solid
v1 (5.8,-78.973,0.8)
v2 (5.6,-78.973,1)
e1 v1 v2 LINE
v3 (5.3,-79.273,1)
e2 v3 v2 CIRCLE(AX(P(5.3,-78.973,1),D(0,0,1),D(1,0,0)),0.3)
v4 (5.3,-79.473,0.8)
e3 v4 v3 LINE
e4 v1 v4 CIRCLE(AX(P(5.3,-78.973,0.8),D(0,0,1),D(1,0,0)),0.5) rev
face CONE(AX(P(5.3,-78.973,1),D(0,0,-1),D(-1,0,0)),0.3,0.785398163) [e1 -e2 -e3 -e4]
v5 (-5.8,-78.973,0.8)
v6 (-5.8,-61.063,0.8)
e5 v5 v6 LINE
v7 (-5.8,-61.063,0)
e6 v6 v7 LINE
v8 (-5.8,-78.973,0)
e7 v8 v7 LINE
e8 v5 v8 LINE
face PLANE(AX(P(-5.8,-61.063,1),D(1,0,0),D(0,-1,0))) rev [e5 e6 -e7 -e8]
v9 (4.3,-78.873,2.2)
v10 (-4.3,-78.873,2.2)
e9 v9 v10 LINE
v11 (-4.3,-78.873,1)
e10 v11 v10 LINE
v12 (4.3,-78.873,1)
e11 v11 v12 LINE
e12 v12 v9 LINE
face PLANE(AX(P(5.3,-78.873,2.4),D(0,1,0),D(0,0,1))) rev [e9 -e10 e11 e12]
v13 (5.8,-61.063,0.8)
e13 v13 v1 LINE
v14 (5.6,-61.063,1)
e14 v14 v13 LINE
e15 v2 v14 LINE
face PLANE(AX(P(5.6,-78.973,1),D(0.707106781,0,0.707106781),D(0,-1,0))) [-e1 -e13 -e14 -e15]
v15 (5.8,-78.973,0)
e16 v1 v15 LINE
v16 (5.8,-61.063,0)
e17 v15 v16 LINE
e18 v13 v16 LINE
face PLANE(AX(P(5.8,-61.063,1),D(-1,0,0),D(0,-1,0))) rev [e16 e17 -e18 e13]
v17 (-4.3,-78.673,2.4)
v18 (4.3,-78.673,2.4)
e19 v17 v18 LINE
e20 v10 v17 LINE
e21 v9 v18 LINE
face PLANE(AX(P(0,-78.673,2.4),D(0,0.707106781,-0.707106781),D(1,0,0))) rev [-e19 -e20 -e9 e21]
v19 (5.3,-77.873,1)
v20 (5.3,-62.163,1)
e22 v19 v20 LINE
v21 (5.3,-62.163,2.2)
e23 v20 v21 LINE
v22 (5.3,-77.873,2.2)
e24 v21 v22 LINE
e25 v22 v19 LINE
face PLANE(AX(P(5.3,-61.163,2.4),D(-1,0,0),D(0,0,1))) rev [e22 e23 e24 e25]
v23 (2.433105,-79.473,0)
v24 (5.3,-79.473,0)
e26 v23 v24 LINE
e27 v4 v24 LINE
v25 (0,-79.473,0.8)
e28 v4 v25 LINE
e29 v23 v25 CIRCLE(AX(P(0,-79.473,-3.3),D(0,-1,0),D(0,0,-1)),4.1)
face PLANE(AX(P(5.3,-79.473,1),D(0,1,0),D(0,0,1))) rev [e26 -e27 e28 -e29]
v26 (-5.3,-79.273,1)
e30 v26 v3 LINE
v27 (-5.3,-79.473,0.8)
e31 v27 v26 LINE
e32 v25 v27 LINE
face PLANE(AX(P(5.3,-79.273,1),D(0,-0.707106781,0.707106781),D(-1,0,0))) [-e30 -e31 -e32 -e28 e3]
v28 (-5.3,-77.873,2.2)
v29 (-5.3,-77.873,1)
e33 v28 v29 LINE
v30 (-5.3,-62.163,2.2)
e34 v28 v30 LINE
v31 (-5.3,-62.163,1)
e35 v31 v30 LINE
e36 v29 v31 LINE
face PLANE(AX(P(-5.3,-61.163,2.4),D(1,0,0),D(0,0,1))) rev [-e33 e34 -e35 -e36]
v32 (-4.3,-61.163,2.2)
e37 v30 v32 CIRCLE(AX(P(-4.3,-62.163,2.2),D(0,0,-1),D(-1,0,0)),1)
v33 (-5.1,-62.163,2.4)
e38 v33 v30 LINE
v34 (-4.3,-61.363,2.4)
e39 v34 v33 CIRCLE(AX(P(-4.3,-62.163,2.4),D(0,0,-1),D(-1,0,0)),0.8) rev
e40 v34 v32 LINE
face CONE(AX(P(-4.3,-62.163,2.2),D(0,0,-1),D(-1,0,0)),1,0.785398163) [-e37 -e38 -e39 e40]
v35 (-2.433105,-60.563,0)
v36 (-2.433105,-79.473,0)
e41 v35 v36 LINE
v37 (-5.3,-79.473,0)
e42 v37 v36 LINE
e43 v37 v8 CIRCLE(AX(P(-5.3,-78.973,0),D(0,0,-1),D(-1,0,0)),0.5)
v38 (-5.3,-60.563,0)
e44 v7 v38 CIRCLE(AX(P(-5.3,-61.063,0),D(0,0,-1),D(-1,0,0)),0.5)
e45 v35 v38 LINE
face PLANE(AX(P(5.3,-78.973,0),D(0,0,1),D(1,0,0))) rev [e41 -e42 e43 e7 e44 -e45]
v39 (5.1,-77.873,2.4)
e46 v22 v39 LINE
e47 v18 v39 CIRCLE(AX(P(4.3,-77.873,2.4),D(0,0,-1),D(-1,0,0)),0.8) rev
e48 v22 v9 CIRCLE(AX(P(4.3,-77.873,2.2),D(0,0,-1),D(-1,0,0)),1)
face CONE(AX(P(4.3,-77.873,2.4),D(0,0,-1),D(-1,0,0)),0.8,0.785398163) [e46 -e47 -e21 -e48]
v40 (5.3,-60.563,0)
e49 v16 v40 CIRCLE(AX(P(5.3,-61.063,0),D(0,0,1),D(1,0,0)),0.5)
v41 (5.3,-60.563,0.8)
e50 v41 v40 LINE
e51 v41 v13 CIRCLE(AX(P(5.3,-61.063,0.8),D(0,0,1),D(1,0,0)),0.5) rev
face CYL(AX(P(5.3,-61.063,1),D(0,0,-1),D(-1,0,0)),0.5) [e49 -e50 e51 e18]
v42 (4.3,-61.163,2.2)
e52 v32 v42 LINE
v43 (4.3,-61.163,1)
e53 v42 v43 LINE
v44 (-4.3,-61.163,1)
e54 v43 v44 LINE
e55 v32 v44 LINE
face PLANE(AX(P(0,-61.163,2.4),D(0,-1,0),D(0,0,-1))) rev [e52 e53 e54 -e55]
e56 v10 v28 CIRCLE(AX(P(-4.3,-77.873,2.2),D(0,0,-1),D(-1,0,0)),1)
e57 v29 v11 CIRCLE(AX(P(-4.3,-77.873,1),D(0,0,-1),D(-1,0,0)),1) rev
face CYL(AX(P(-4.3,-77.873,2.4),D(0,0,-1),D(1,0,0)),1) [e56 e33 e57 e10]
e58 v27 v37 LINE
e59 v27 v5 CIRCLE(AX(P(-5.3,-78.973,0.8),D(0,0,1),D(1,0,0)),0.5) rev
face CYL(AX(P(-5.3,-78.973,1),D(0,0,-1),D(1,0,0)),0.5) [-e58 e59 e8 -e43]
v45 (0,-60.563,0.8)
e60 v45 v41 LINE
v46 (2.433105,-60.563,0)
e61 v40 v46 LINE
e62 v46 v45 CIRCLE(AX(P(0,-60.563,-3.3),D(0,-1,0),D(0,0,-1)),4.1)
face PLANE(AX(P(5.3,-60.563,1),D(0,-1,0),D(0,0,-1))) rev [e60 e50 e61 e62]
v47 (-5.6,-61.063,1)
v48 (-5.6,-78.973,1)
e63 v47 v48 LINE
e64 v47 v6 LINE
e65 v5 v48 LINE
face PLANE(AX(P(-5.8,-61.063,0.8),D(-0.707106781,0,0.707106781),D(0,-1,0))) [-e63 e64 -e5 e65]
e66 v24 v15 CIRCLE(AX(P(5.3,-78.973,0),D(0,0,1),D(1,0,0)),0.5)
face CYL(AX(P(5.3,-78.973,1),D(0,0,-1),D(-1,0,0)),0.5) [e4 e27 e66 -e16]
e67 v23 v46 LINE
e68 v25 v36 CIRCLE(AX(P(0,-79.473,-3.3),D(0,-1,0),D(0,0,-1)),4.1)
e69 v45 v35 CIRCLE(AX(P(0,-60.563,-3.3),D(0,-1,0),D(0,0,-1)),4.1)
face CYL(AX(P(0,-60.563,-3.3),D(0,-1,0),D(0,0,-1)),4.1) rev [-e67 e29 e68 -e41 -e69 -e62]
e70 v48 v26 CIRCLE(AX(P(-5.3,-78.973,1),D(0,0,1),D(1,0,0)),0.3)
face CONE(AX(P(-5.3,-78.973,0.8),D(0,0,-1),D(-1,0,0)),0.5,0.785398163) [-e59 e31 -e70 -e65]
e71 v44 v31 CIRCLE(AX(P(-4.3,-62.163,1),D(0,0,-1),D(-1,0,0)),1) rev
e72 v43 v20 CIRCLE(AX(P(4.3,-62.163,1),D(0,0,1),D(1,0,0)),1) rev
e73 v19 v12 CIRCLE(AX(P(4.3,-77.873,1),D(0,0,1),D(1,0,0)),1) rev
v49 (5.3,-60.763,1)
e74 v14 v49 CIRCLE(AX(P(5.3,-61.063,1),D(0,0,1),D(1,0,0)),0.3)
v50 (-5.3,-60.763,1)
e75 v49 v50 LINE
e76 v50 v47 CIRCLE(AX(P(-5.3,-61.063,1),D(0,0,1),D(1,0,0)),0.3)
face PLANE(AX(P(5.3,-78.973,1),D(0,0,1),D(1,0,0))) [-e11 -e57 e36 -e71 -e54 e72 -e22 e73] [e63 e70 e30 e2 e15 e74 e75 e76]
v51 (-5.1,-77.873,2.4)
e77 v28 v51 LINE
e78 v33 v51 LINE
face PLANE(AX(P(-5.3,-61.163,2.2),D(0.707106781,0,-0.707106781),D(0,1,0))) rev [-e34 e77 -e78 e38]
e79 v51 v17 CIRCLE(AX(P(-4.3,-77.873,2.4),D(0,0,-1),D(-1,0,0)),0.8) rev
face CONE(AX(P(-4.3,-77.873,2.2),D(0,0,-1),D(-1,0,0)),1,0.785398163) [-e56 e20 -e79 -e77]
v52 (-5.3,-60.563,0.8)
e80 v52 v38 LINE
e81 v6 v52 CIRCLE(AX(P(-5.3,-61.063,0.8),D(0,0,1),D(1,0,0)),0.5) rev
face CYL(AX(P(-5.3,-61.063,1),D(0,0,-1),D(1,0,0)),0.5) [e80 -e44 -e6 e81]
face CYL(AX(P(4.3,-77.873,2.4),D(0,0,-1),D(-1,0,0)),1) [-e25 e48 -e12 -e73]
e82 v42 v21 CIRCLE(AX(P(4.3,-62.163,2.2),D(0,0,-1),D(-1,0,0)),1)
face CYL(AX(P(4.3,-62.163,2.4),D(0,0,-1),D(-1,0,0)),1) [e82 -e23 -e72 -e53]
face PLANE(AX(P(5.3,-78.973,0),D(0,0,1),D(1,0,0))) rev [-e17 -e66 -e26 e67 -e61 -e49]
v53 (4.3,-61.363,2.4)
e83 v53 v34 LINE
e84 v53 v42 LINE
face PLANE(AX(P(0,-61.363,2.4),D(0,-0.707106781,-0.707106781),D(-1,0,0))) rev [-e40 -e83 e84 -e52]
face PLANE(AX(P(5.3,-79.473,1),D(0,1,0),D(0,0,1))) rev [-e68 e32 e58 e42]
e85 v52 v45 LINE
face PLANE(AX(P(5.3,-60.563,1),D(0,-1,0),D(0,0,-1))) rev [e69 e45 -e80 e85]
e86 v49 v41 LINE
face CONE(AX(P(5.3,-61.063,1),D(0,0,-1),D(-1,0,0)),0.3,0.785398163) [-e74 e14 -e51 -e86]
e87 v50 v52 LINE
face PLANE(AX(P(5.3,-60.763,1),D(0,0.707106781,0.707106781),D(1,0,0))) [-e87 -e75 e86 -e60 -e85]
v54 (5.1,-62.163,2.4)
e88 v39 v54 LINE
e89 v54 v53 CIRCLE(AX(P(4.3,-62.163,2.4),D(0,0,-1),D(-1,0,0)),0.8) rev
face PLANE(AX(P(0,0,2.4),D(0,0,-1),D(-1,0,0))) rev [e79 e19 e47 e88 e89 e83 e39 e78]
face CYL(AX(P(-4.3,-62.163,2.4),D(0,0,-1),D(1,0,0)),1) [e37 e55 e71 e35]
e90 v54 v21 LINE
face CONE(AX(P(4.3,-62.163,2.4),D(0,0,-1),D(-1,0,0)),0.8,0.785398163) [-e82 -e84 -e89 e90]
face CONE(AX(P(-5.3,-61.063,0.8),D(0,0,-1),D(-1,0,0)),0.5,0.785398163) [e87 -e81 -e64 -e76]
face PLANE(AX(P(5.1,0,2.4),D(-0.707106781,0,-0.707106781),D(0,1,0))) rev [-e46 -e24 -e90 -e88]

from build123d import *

# Parameters (mm, degrees)
EXTRUDE_1_DEPTH     = 1
SKETCH_3_W          = 5.3
SKETCH_3_H          = 17.71
EXTRUDE_2_DEPTH     = 1.4
FILLET_1_R          = 1
CHAMFER_1_SIZE      = 0.2
CUT_EXTRUDE_1_DEPTH = 0.5
SKETCH_5_R          = 4.1
CUT_EXTRUDE_2_DEPTH = 20.924560345


with BuildPart() as part:
    # 草图1 → 凸台-拉伸1 (new body)
    with BuildSketch(Plane(origin=(0, 0, 0), x_dir=(-1, 0, 0), z_dir=(0, 0, 1))):
        with BuildLine():
            Line((-5.8, 61.063), (-5.8, 78.973))
            ThreePointArc((-5.8, 78.973), (-5.653553391, 79.32655339), (-5.3, 79.473))
            Line((-5.3, 79.473), (0, 79.473))
            Line((0, 79.473), (0, 60.563))
            Line((0, 60.563), (-5.3, 60.563))
            ThreePointArc((-5.3, 60.563), (-5.653553391, 60.709446609), (-5.8, 61.063))
        make_face()
    extrude(amount=EXTRUDE_1_DEPTH)

    # 草图3 → 凸台-拉伸2 (add)
    with BuildSketch(Plane.XY.offset(1)):
        with Locations((2.65, -70.018)):
            Rectangle(SKETCH_3_W, SKETCH_3_H)
    extrude(amount=EXTRUDE_2_DEPTH)

    # 圆角1
    fillet_1_edges = [part.edges().sort_by_distance(p)[0] for p in [
        (5.3, -61.163, 1.7),
        (5.3, -78.873, 1.7),
    ]]
    fillet(fillet_1_edges, radius=FILLET_1_R)

    # 镜向1: part across plane


with BuildPart() as part_1:
    add(part.part)
    add(part.part.mirror(Plane(origin=(0, -79.473, 1), x_dir=(0, 0, 1), z_dir=(1, 0, 0))))

    # 倒角1
    chamfer_1_edges = [part_1.edges().sort_by_distance(p)[0] for p in [
        (5.653553391, -60.709446609, 1),
        (0, -60.563, 1),
        (0, -79.473, 1),
        (0, -78.873, 2.4),
        (0, -61.163, 2.4),
        (5.3, -70.018, 2.4),
        (5.007106781, -78.580106781, 2.4),
        (5.007106781, -61.455893219, 2.4),
        (5.653553391, -79.32655339, 1),
        (-5.653553391, -79.32655339, 1),
        (-5.8, -70.018, 1),
        (-5.653553391, -60.709446609, 1),
        (-5.3, -70.018, 2.4),
        (-5.007106781, -61.455893219, 2.4),
        (-5.007106781, -78.580106781, 2.4),
        (5.8, -70.018, 1),
    ]]
    chamfer(chamfer_1_edges, length=CHAMFER_1_SIZE)

    # 草图4 → 切除-拉伸1 (cut)
    # profile 1 of 9: a face of its own
    with BuildSketch(Plane(origin=(-6.3, -79.273, 0), x_dir=(1, 0, 0), z_dir=(0, 0, 1))):
        with BuildLine():
            add(Edge.make_bspline(
                [(6.774685953, 2.619341222), (6.800289884, 2.617747441), (6.850993025, 2.614591298), (6.925350933, 2.600827188), (6.996555647, 2.579095321), (7.064787892, 2.55036601), (7.129545424, 2.513432463), (7.190880782, 2.468744026), (7.248477435, 2.416001945), (7.302842533, 2.356884778), (7.35236013, 2.291759099), (7.396108136, 2.221845326), (7.432464761, 2.147203781), (7.463443618, 2.069005381), (7.487749635, 1.986705734), (7.505943631, 1.900454217), (7.517046754, 1.809855564), (7.519723963, 1.747989925), (7.521090297, 1.716416298)],
                knots=[0, 0, 0, 0, 0.94827468, 1.87785632, 2.789222779, 3.697428247, 4.610539481, 5.540471281, 6.498511082, 7.494592211, 8.507455324, 9.520496994, 10.539928136, 11.574155348, 12.628388138, 13.710074165, 14.831317928, 16, 16, 16, 16], degree=3))
            add(Edge.make_bspline(
                [(7.521090297, 1.716416298), (7.519727673, 1.684841903), (7.517057736, 1.622974757), (7.505882914, 1.532228766), (7.487825449, 1.44578553), (7.463435671, 1.363341058), (7.432466847, 1.285140562), (7.396107558, 1.210499646), (7.352360383, 1.140585414), (7.302842101, 1.075460941), (7.248478866, 1.016339529), (7.190875764, 0.963612474), (7.129563419, 0.918870324), (7.064666385, 0.8821006), (6.996680813, 0.852631121), (6.925333473, 0.831071458), (6.85085853, 0.817225267), (6.800008805, 0.81409757), (6.774261029, 0.812513859)],
                knots=[0, 0, 0, 0, 1.167698527, 2.287998669, 3.374655933, 4.428001497, 5.461358319, 6.479931524, 7.492120634, 8.504131337, 9.49937418, 10.456607709, 11.385756894, 12.298099667, 13.207905618, 14.118505085, 15.047304403, 16, 16, 16, 16], degree=3))
            Line((6.774261029, 0.812513859), (5.874364878, 0.812513383))
            add(Edge.make_bspline(
                [(5.874364878, 0.812513383), (5.848582314, 0.814095492), (5.797697494, 0.817217963), (5.723188613, 0.831071719), (5.651841188, 0.852631022), (5.583855875, 0.882100737), (5.51895788, 0.918869872), (5.457649221, 0.963614201), (5.400031715, 1.016332762), (5.345724961, 1.075487473), (5.296042879, 1.140416594), (5.253101436, 1.210789424), (5.215889174, 1.284977516), (5.185189379, 1.363376877), (5.16048408, 1.445707285), (5.143464797, 1.53234091), (5.131246322, 1.622922352), (5.128720439, 1.684831116), (5.127431761, 1.716416298)],
                knots=[0, 0, 0, 0, 0.95395145, 1.882731614, 2.793312302, 3.703099491, 4.61542345, 5.544553474, 6.501767263, 7.496989581, 8.508979415, 9.51798526, 10.539210713, 11.572546226, 12.625870068, 13.71129126, 14.832325553, 16, 16, 16, 16], degree=3))
            add(Edge.make_bspline(
                [(5.127431761, 1.716416298), (5.128724004, 1.748000757), (5.131256875, 1.809908103), (5.143403843, 1.900341656), (5.160559346, 1.98678445), (5.185181741, 2.068969445), (5.215891185, 2.147366857), (5.25310088, 2.22155554), (5.296043126, 2.291927922), (5.34572453, 2.356858246), (5.400033145, 2.416008713), (5.457644204, 2.468742294), (5.518975873, 2.513432931), (5.583734371, 2.550365816), (5.651966341, 2.579095634), (5.723171201, 2.600826114), (5.797668042, 2.614621182), (5.84851477, 2.617755875), (5.874261029, 2.619343127)],
                knots=[0, 0, 0, 0, 1.168370235, 2.290072524, 3.370248926, 4.424200417, 5.458151668, 6.479985644, 7.489592731, 8.502185584, 9.49800093, 10.455785099, 11.385468768, 12.298336358, 13.206299492, 14.117422773, 15.046756374, 16, 16, 16, 16], degree=3))
            Line((5.874261029, 2.619343127), (6.774685953, 2.619341222))
        make_face()
        with BuildLine():
            add(Edge.make_bspline(
                [(5.874364878, 2.18617049), (5.86113587, 2.185267658), (5.835045805, 2.183487104), (5.79678859, 2.176788791), (5.760246428, 2.165443937), (5.725755638, 2.149641161), (5.69249254, 2.130544277), (5.661323751, 2.106825267), (5.631484581, 2.079504237), (5.603694252, 2.048280435), (5.578897378, 2.013833692), (5.555843962, 1.97776793), (5.537622496, 1.938845079), (5.521924163, 1.898272763), (5.509143347, 1.855747659), (5.499912343, 1.81103202), (5.493993624, 1.764373863), (5.492875607, 1.732531075), (5.492309809, 1.716416298)],
                knots=[0, 0, 0, 0, 0.94951791, 1.872625918, 2.77529632, 3.682465107, 4.58551123, 5.517397007, 6.48198038, 7.480297679, 8.505438217, 9.520402585, 10.541564555, 11.577763819, 12.635477268, 13.718356008, 14.845321508, 16, 16, 16, 16], degree=3))
            add(Edge.make_bspline(
                [(5.492309809, 1.716416298), (5.492857379, 1.700136765), (5.493928619, 1.668288231), (5.500023035, 1.621494625), (5.509062818, 1.576743135), (5.521933098, 1.534073731), (5.537620202, 1.493499339), (5.55584442, 1.454576696), (5.578897807, 1.418512125), (5.603692071, 1.384060416), (5.631492514, 1.352854654), (5.661295601, 1.325469556), (5.692658583, 1.301928208), (5.725481785, 1.282014249), (5.76038668, 1.267018076), (5.796824481, 1.255662821), (5.834957769, 1.248228341), (5.861058575, 1.246539068), (5.874261029, 1.245684591)],
                knots=[0, 0, 0, 0, 1.165413886, 2.279962417, 3.373403418, 4.430302031, 5.465703032, 6.486078323, 7.500260788, 8.524611583, 9.522159802, 10.486000083, 11.417167958, 12.325429624, 13.227179297, 14.129154303, 15.053678456, 16, 16, 16, 16], degree=3))
            Line((5.874261029, 1.245684591), (6.774685953, 1.245684114))
            add(Edge.make_bspline(
                [(6.774685953, 1.245684114), (6.787745984, 1.246546478), (6.813702874, 1.248260432), (6.85169766, 1.255661522), (6.888135352, 1.267018422), (6.923040295, 1.28201415), (6.955863413, 1.301928256), (6.987226694, 1.325469461), (7.017028613, 1.352855001), (7.044833635, 1.384059065), (7.069610307, 1.418517288), (7.092729184, 1.454557611), (7.110731768, 1.493625448), (7.127361515, 1.533865439), (7.139254764, 1.576854956), (7.148558015, 1.62147613), (7.15457778, 1.66829314), (7.155659382, 1.700138425), (7.156212248, 1.716416298)],
                knots=[0, 0, 0, 0, 0.936755952, 1.861807968, 2.764297963, 3.666562496, 4.57534274, 5.507042272, 6.471432864, 7.469550641, 8.494486296, 9.509247815, 10.530205697, 11.570444156, 12.624670514, 13.718735822, 14.833920713, 16, 16, 16, 16], degree=3))
            add(Edge.make_bspline(
                [(7.156212248, 1.716416298), (7.155641228, 1.732529437), (7.154512891, 1.76436899), (7.148669168, 1.811050658), (7.139176923, 1.855636664), (7.127370725, 1.898481139), (7.110729405, 1.938718949), (7.09272966, 1.977787021), (7.069610731, 2.013828528), (7.044831455, 2.048281786), (7.017036546, 2.079503891), (6.987198544, 2.106825357), (6.956029457, 2.130544245), (6.922766438, 2.149641201), (6.888275615, 2.165443807), (6.851733507, 2.176789272), (6.813510111, 2.183479294), (6.787455247, 2.185267066), (6.774261029, 2.186172396)],
                knots=[0, 0, 0, 0, 1.154786464, 2.281857345, 3.364837343, 4.419373038, 5.45991673, 6.481174187, 7.496233464, 8.521469861, 9.519880511, 10.48455408, 11.416526997, 12.319657563, 13.226911178, 14.129665987, 15.052860313, 16, 16, 16, 16], degree=3))
            Line((6.774261029, 2.186172396), (5.874364878, 2.18617049))
        make_face(mode=Mode.SUBTRACT)
    # profile 2 of 9: a face of its own
    with BuildSketch(Plane(origin=(-6.3, -79.273, 0), x_dir=(1, 0, 0), z_dir=(0, 0, 1))):
        with BuildLine():
            add(Edge.make_bspline(
                [(5.122553712, 3.453167823), (5.12340021, 3.467672021), (5.125038308, 3.495739767), (5.134857134, 3.535708094), (5.15084215, 3.571615935), (5.171977078, 3.603340165), (5.198395949, 3.629166179), (5.22817408, 3.64895025), (5.261862274, 3.661055693), (5.285548184, 3.663213773), (5.297675663, 3.664318737)],
                knots=[0, 0, 0, 0, 1.145665256, 2.217029971, 3.22878967, 4.236712138, 5.208316078, 6.12723863, 7.041122994, 8, 8, 8, 8], degree=3))
            add(Edge.make_bspline(
                [(5.297675663, 3.664318737), (5.310122186, 3.663206732), (5.33443065, 3.66103495), (5.368987459, 3.649086498), (5.399379978, 3.629184196), (5.426253229, 3.60336187), (5.447983758, 3.571761313), (5.463881871, 3.535690792), (5.473698895, 3.495880496), (5.475358587, 3.467952021), (5.476212248, 3.45358703)],
                knots=[0, 0, 0, 0, 0.976287191, 1.906720606, 2.828835859, 3.801627679, 4.808505341, 5.811994192, 6.874600806, 8, 8, 8, 8], degree=3))
            add(Edge.make_bspline(
                [(5.476212248, 3.45358703), (5.480216962, 3.447859363), (5.487865871, 3.436919654), (5.502441531, 3.424264246), (5.517821852, 3.414109466), (5.52941433, 3.411163965), (5.535236639, 3.409684591)],
                knots=[0, 0, 0, 0, 1.106007569, 2.112448186, 3.051979138, 4, 4, 4, 4], degree=3))
            Line((5.535236639, 3.409684591), (7.351157942, 3.409428779))
            add(Edge.make_bspline(
                [(7.351157942, 3.409428779), (7.363032707, 3.408634539), (7.386353933, 3.407074704), (7.419452124, 3.394599253), (7.449164286, 3.375211888), (7.474895075, 3.349048859), (7.49636043, 3.317915263), (7.51212455, 3.282375719), (7.521458304, 3.2428273), (7.523140678, 3.215263653), (7.524017127, 3.200904103)],
                knots=[0, 0, 0, 0, 0.946687369, 1.85922917, 2.78909143, 3.763031202, 4.772218789, 5.796023415, 6.851816938, 8, 8, 8, 8], degree=3))
            add(Edge.make_bspline(
                [(7.524017127, 3.200904103), (7.523123946, 3.186548133), (7.521399624, 3.158833342), (7.512216042, 3.11908638), (7.496359803, 3.083397058), (7.474872087, 3.052306475), (7.449313234, 3.026047522), (7.419299783, 3.007245461), (7.38622211, 2.99484166), (7.362825457, 2.992721388), (7.350846395, 2.99163581)],
                knots=[0, 0, 0, 0, 1.145841184, 2.212093514, 3.233809949, 4.240939159, 5.212892446, 6.133855195, 7.044535741, 8, 8, 8, 8], degree=3))
            Line((7.350846395, 2.99163581), (5.535616307, 2.991635334))
            add(Edge.make_bspline(
                [(5.535616307, 2.991635334), (5.52147394, 2.992480055), (5.49363036, 2.994143146), (5.452972897, 3.001658491), (5.413960119, 3.012817345), (5.376895286, 3.028564797), (5.341534007, 3.048135935), (5.308200847, 3.071907721), (5.276203383, 3.099205853), (5.2469093, 3.130975337), (5.219565994, 3.165116772), (5.196258227, 3.202191078), (5.17545916, 3.240584189), (5.158893435, 3.281543237), (5.145670067, 3.32463437), (5.136114026, 3.369868117), (5.129530146, 3.417147533), (5.128141278, 3.44933755), (5.127431761, 3.465782152)],
                knots=[0, 0, 0, 0, 0.980581761, 1.930575478, 2.857315967, 3.786107525, 4.713805743, 5.651298114, 6.617643132, 7.621653236, 8.640152693, 9.643088211, 10.650818869, 11.661064142, 12.697834104, 13.769264831, 14.860405998, 16, 16, 16, 16], degree=3))
            Line((5.127431761, 3.465782152), (5.122553712, 3.453167823))
        make_face()
    # profile 3 of 9: a face of its own
    with BuildSketch(Plane(origin=(-6.3, -79.273, 0), x_dir=(1, 0, 0), z_dir=(0, 0, 1))):
        with BuildLine():
            add(Edge.make_bspline(
                [(5.64191061, 4.015635334), (5.62418692, 4.016672194), (5.589410752, 4.018706648), (5.538711188, 4.029035747), (5.489880743, 4.043323024), (5.443556301, 4.064333492), (5.398638366, 4.089469286), (5.356819988, 4.121296249), (5.31645088, 4.157335619), (5.279374608, 4.198926822), (5.244666177, 4.243708141), (5.214964972, 4.292546569), (5.189080472, 4.343711052), (5.167290141, 4.397624369), (5.151133226, 4.454484915), (5.138049576, 4.513703407), (5.130484169, 4.575946091), (5.128462736, 4.618382529), (5.127431761, 4.640026054)],
                knots=[0, 0, 0, 0, 0.951543996, 1.867052271, 2.76966306, 3.675977574, 4.590487385, 5.525863222, 6.489621794, 7.490352572, 8.511268695, 9.525901277, 10.552172671, 11.585909569, 12.640644114, 13.72052336, 14.837416339, 16, 16, 16, 16], degree=3))
            Line((5.127431761, 4.640026054), (5.127431761, 5.322837125))
            add(Edge.make_bspline(
                [(5.127431761, 5.322837125), (5.128250913, 5.337736061), (5.129824967, 5.366365347), (5.139987455, 5.407436865), (5.155825325, 5.444890846), (5.178604209, 5.47731656), (5.204929139, 5.505304452), (5.236568776, 5.524782379), (5.270919484, 5.538525945), (5.295427639, 5.540488927), (5.307919566, 5.541489469)],
                knots=[0, 0, 0, 0, 1.138391563, 2.187494374, 3.217350047, 4.227515487, 5.203137744, 6.130703494, 7.047210442, 8, 8, 8, 8], degree=3))
            Line((5.307919566, 5.541489469), (7.350097538, 5.54148804))
            add(Edge.make_bspline(
                [(7.350097538, 5.54148804), (7.362019452, 5.540454253), (7.385642998, 5.538405781), (7.418758057, 5.524904351), (7.449029163, 5.505054328), (7.474420765, 5.477310228), (7.495936614, 5.444581323), (7.51215364, 5.407546654), (7.521430449, 5.366314652), (7.523131708, 5.337795596), (7.524017127, 5.322952884)],
                knots=[0, 0, 0, 0, 0.925618035, 1.834133467, 2.745721925, 3.720426658, 4.733716554, 5.781128243, 6.845190584, 8, 8, 8, 8], degree=3))
            add(Edge.make_bspline(
                [(7.524017127, 5.322952884), (7.523107834, 5.308280032), (7.521351466, 5.2799383), (7.512362947, 5.239073206), (7.495747355, 5.202712365), (7.474620937, 5.170462674), (7.448653567, 5.143878083), (7.419009351, 5.123639979), (7.385339341, 5.11166282), (7.36182959, 5.109446249), (7.349870785, 5.108318737)],
                knots=[0, 0, 0, 0, 1.151935465, 2.225051238, 3.25803624, 4.269315285, 5.233953352, 6.153297938, 7.060630248, 8, 8, 8, 8], degree=3))
            Line((7.349870785, 5.108318737), (6.803528845, 5.108317308))
            Line((6.803528845, 5.108317308), (6.803528845, 4.639603512))
            add(Edge.make_bspline(
                [(6.803528845, 4.639603512), (6.802290695, 4.618102812), (6.799855864, 4.575821562), (6.792411473, 4.513714228), (6.77948342, 4.454393814), (6.762573248, 4.39770287), (6.740876127, 4.34374342), (6.715193156, 4.29222938), (6.684163021, 4.244033886), (6.64973905, 4.198701185), (6.612022193, 4.157530973), (6.571695976, 4.121099589), (6.529439484, 4.089624077), (6.484493641, 4.06431863), (6.438017684, 4.043229486), (6.38882481, 4.029046753), (6.337912754, 4.018765438), (6.303091671, 4.016687002), (6.285480541, 4.01563581)],
                knots=[0, 0, 0, 0, 1.15353325, 2.268429813, 3.346378802, 4.401710962, 5.433600081, 6.458037042, 7.480101589, 8.49919285, 9.504003122, 10.466039, 11.406744591, 12.319619739, 13.224314239, 14.133650694, 15.056074184, 16, 16, 16, 16], degree=3))
            Line((6.285480541, 4.01563581), (5.64191061, 4.015635334))
        make_face()
        with BuildLine():
            Line((6.438650796, 5.108317308), (5.492309809, 5.108317308))
            Line((5.492309809, 5.108317308), (5.492309809, 4.639603512))
            add(Edge.make_bspline(
                [(5.492309809, 4.639603512), (5.493077384, 4.626854886), (5.494568825, 4.602083581), (5.502934273, 4.566392938), (5.516722182, 4.533964421), (5.535081683, 4.504972131), (5.557862762, 4.481392794), (5.583154974, 4.46288615), (5.611654141, 4.451854311), (5.631573047, 4.449825561), (5.641578102, 4.448806542)],
                knots=[0, 0, 0, 0, 1.146504479, 2.227723435, 3.275533308, 4.301194785, 5.293513974, 6.205873749, 7.098829466, 8, 8, 8, 8], degree=3))
            Line((5.641578102, 4.448806542), (6.285844489, 4.448806066))
            add(Edge.make_bspline(
                [(6.285844489, 4.448806066), (6.296212211, 4.44982502), (6.3167979, 4.451848211), (6.346183743, 4.462760386), (6.372108628, 4.481218509), (6.394827087, 4.505134863), (6.413844194, 4.533796497), (6.427502788, 4.566416747), (6.435949568, 4.602214344), (6.437408591, 4.627133344), (6.438163468, 4.640026054)],
                knots=[0, 0, 0, 0, 0.923098965, 1.832864354, 2.746636279, 3.727612043, 4.749444418, 5.785276539, 6.854135836, 8, 8, 8, 8], degree=3))
            Line((6.438163468, 4.640026054), (6.438650796, 5.108317308))
        make_face(mode=Mode.SUBTRACT)
    # profile 4 of 9: a face of its own
    with BuildSketch(Plane(origin=(-6.3, -79.273, 0), x_dir=(1, 0, 0), z_dir=(0, 0, 1))):
        with BuildLine():
            add(Edge.make_bspline(
                [(5.483332104, 6.683303874), (5.485448601, 6.660339253), (5.489567034, 6.615653039), (5.507466294, 6.55214269), (5.533965242, 6.494781844), (5.568481512, 6.444664895), (5.609160677, 6.402696154), (5.655680896, 6.371794268), (5.707143141, 6.352224953), (5.743200913, 6.348732729), (5.761578102, 6.346952884)],
                knots=[0, 0, 0, 0, 1.152723077, 2.243051527, 3.284729085, 4.303178847, 5.27606439, 6.192795705, 7.078941055, 8, 8, 8, 8], degree=3))
            Line((5.761578102, 6.346952884), (6.884809809, 6.346952407))
            add(Edge.make_bspline(
                [(6.884809809, 6.346952407), (6.90322765, 6.348779539), (6.939611667, 6.352388996), (6.991579538, 6.3713876), (7.037901787, 6.402927247), (7.07858593, 6.444396049), (7.112275291, 6.494672608), (7.136494832, 6.552187645), (7.152833107, 6.615506922), (7.15505989, 6.660016677), (7.156212248, 6.683050444)],
                knots=[0, 0, 0, 0, 0.927308887, 1.831877266, 2.745000803, 3.72128324, 4.73410518, 5.766054053, 6.84393453, 8, 8, 8, 8], degree=3))
            Line((7.156212248, 6.683050444), (7.156699101, 7.506842842))
            add(Edge.make_bspline(
                [(7.156699101, 7.506842842), (7.157267736, 7.521752002), (7.15836245, 7.550454493), (7.169211989, 7.591130776), (7.185160446, 7.627799989), (7.207367072, 7.659552325), (7.233782279, 7.686466311), (7.265518526, 7.704833698), (7.299900939, 7.718223453), (7.324533916, 7.719801023), (7.337187858, 7.72061142)],
                knots=[0, 0, 0, 0, 1.147643246, 2.209394622, 3.225718433, 4.217360048, 5.184177568, 6.107033161, 7.027584279, 8, 8, 8, 8], degree=3))
            add(Edge.make_bspline(
                [(7.337187858, 7.72061142), (7.349837634, 7.719784268), (7.374616041, 7.718164041), (7.4093191, 7.704836061), (7.441571992, 7.686514837), (7.468412835, 7.659431917), (7.491674799, 7.627996843), (7.508194071, 7.591225706), (7.518788774, 7.550459721), (7.520303883, 7.521818855), (7.521090297, 7.506952884)],
                knots=[0, 0, 0, 0, 0.966444608, 1.893073575, 2.820959557, 3.790775214, 4.790729761, 5.805954028, 6.861185726, 8, 8, 8, 8], degree=3))
            Line((7.521090297, 7.506952884), (7.521577626, 6.682651721))
            add(Edge.make_bspline(
                [(7.521577626, 6.682651721), (7.520290355, 6.655932055), (7.517756712, 6.60334165), (7.508204044, 6.526077658), (7.492279587, 6.452329157), (7.47221742, 6.381756472), (7.445639818, 6.315223406), (7.413721687, 6.252150323), (7.37613937, 6.192833938), (7.333823803, 6.137230744), (7.287493055, 6.08684508), (7.237749143, 6.042714299), (7.186060307, 6.004171902), (7.131049985, 5.972662737), (7.073031373, 5.94846772), (7.012730968, 5.929523167), (6.949483678, 5.917764278), (6.906339752, 5.915120266), (6.884504931, 5.913782152)],
                knots=[0, 0, 0, 0, 1.161612702, 2.286319017, 3.376369762, 4.435675978, 5.469053187, 6.482868206, 7.501688539, 8.514420738, 9.513942875, 10.469304235, 11.398707525, 12.309683497, 13.214727573, 14.123867699, 15.050503342, 16, 16, 16, 16], degree=3))
            Line((6.884504931, 5.913782152), (5.761762934, 5.913781675))
            add(Edge.make_bspline(
                [(5.761762934, 5.913781675), (5.739864807, 5.91510768), (5.696815317, 5.91771447), (5.633835378, 5.929530089), (5.574009923, 5.948452425), (5.516389878, 5.972788267), (5.461473219, 6.004152159), (5.409825676, 6.042741852), (5.360030826, 6.086677909), (5.314278447, 6.13743025), (5.271776508, 6.192654242), (5.234949454, 6.25233275), (5.202664334, 6.315071906), (5.177142736, 6.381982932), (5.155828859, 6.452142625), (5.141232226, 6.526210521), (5.130389713, 6.603399023), (5.128429531, 6.656182598), (5.127431761, 6.683050444)],
                knots=[0, 0, 0, 0, 0.953463774, 1.874412746, 2.778039622, 3.677811996, 4.590031397, 5.520703266, 6.477368638, 7.473472036, 8.487586555, 9.504040725, 10.519239542, 11.551438491, 12.614192351, 13.704286828, 14.831438197, 16, 16, 16, 16], degree=3))
            Line((5.127431761, 6.683050444), (5.127431761, 7.506842842))
            add(Edge.make_bspline(
                [(5.127431761, 7.506842842), (5.128215456, 7.521745818), (5.129723547, 7.55042409), (5.140328109, 7.591225717), (5.156847228, 7.62799684), (5.180109231, 7.659431918), (5.206950064, 7.686514837), (5.239202958, 7.704836061), (5.273906017, 7.718164041), (5.298684423, 7.719784268), (5.3113342, 7.72061142)],
                knots=[0, 0, 0, 0, 1.141216098, 2.196078402, 3.21094728, 4.210551784, 5.180027947, 6.107589113, 7.033893705, 8, 8, 8, 8], degree=3))
            Line((5.3113342, 7.72061142), (6.432056856, 7.720609515))
            add(Edge.make_bspline(
                [(6.432056856, 7.720609515), (6.444626919, 7.719775004), (6.469324055, 7.718135394), (6.503953123, 7.704836181), (6.536206173, 7.686514803), (6.563046972, 7.659431927), (6.586308948, 7.62799684), (6.602828216, 7.591225706), (6.61342292, 7.55045972), (6.61493803, 7.521818855), (6.615724444, 7.506952884)],
                knots=[0, 0, 0, 0, 0.961194782, 1.888515383, 2.817093936, 3.78763346, 4.788334371, 5.804316398, 6.860335719, 8, 8, 8, 8], degree=3))
            Line((6.615724444, 7.506952884), (6.616211772, 7.099417156))
            add(Edge.make_bspline(
                [(6.616211772, 7.099417156), (6.615174296, 7.0846407), (6.613149653, 7.055804318), (6.603101094, 7.01462041), (6.585997525, 6.977513664), (6.563302412, 6.945172497), (6.535900348, 6.917885648), (6.504415004, 6.897557286), (6.469159674, 6.884730978), (6.444447642, 6.882650148), (6.431822005, 6.88158703)],
                knots=[0, 0, 0, 0, 1.124580428, 2.194628496, 3.201054364, 4.212475683, 5.182505617, 6.121819445, 7.040417821, 8, 8, 8, 8], degree=3))
            add(Edge.make_bspline(
                [(6.431822005, 6.88158703), (6.419192642, 6.882633793), (6.394626369, 6.884669928), (6.359687788, 6.897566799), (6.328725094, 6.917929803), (6.301744847, 6.945059546), (6.280103088, 6.977699919), (6.263576791, 7.01471797), (6.253257069, 7.055840858), (6.251664174, 7.084779137), (6.250846395, 7.09963581)],
                knots=[0, 0, 0, 0, 0.965072278, 1.877230911, 2.811477289, 3.778228858, 4.781367767, 5.788425953, 6.864596133, 8, 8, 8, 8], degree=3))
            Line((6.250846395, 7.09963581), (6.251333723, 7.289011287))
            Line((6.251333723, 7.289011287), (5.492309809, 7.289011287))
            Line((5.492309809, 7.289011287), (5.483332104, 6.683303874))
        make_face()
    # profile 5 of 9: a face of its own
    with BuildSketch(Plane(origin=(-6.3, -79.273, 0), x_dir=(1, 0, 0), z_dir=(0, 0, 1))):
        with BuildLine():
            Line((5.78304104, 9.618756332), (6.188556951, 9.618756332))
            add(Edge.make_bspline(
                [(6.188556951, 9.618756332), (6.20921028, 9.617424091), (6.25021646, 9.614778991), (6.310224261, 9.602836565), (6.368059337, 9.584715601), (6.423300601, 9.559623746), (6.476255126, 9.528172504), (6.526887665, 9.490349774), (6.574647905, 9.445597887), (6.619738365, 9.395175205), (6.660880208, 9.33974351), (6.697817212, 9.280782527), (6.72840163, 9.217780899), (6.754455756, 9.151812631), (6.77499374, 9.082103096), (6.789882057, 9.008982988), (6.799912806, 8.932513711), (6.80198574, 8.880414585), (6.803041517, 8.853879713)],
                knots=[0, 0, 0, 0, 0.916292159, 1.819253497, 2.703419541, 3.59669853, 4.501239603, 5.427838288, 6.391433554, 7.39669121, 8.421284483, 9.447017191, 10.474949228, 11.519936788, 12.586900617, 13.690530484, 14.823752287, 16, 16, 16, 16], degree=3))
            add(Edge.make_bspline(
                [(6.803041517, 8.853879713), (6.801991066, 8.827506958), (6.799935202, 8.775892193), (6.789895271, 8.700229631), (6.774917369, 8.627945936), (6.754483642, 8.558853928), (6.728264486, 8.49329012), (6.697972855, 8.430460484), (6.660724446, 8.371848968), (6.61973283, 8.316502426), (6.574812011, 8.266046617), (6.526718885, 8.221818831), (6.476272071, 8.183966763), (6.423309506, 8.152487097), (6.367962696, 8.127576356), (6.310324824, 8.108673205), (6.250154318, 8.096913528), (6.209106375, 8.094248155), (6.18840737, 8.092904103)],
                knots=[0, 0, 0, 0, 1.173145474, 2.295991786, 3.389326865, 4.45309377, 5.495012025, 6.526542102, 7.549726577, 8.577906204, 9.586682534, 10.54874524, 11.478587271, 12.386294483, 13.282700191, 14.172167919, 15.078289867, 16, 16, 16, 16], degree=3))
            Line((6.18840737, 8.092904103), (5.636103636, 8.092903627))
            add(Edge.make_bspline(
                [(5.636103636, 8.092903627), (5.618687056, 8.093934407), (5.584535712, 8.095955615), (5.534660082, 8.106389949), (5.486577854, 8.120495843), (5.441086989, 8.14160516), (5.397093531, 8.16689898), (5.355797397, 8.198536118), (5.315992164, 8.234797685), (5.278775096, 8.275988312), (5.244848096, 8.321319122), (5.214251408, 8.369500662), (5.189238795, 8.421146272), (5.167239086, 8.474865326), (5.151147367, 8.531760779), (5.138045627, 8.590969586), (5.130485218, 8.653214945), (5.12846309, 8.695651011), (5.127431761, 8.717294347)],
                knots=[0, 0, 0, 0, 0.940339096, 1.843866273, 2.743250278, 3.638729962, 4.543279326, 5.476985431, 6.43976515, 7.446225619, 8.46768576, 9.492758237, 10.520981099, 11.560636664, 12.621410099, 13.7074722, 14.830759959, 16, 16, 16, 16], degree=3))
            Line((5.127431761, 8.717294347), (5.127431761, 9.400105418))
            add(Edge.make_bspline(
                [(5.127431761, 9.400105418), (5.128250913, 9.415004353), (5.129824967, 9.44363364), (5.139987455, 9.484705158), (5.155825325, 9.522159138), (5.178604209, 9.554584853), (5.204929139, 9.582572745), (5.236568776, 9.602050672), (5.270919484, 9.615794238), (5.295427639, 9.61775722), (5.307919566, 9.618757762)],
                knots=[0, 0, 0, 0, 1.138391563, 2.187494374, 3.217350047, 4.227515487, 5.203137744, 6.130703494, 7.047210442, 8, 8, 8, 8], degree=3))
            add(Edge.make_bspline(
                [(5.307919566, 9.618757762), (5.32072935, 9.617750831), (5.345855745, 9.615775737), (5.381095419, 9.602192177), (5.413291131, 9.58256816), (5.440201847, 9.554767849), (5.462849585, 9.522028989), (5.479258076, 9.484763258), (5.490030442, 9.443733292), (5.491530966, 9.415088952), (5.492309809, 9.400221176)],
                knots=[0, 0, 0, 0, 0.968685772, 1.900077285, 2.829756606, 3.805310362, 4.806426797, 5.832025487, 6.874718055, 8, 8, 8, 8], degree=3))
            Line((5.492309809, 9.400221176), (5.492309809, 8.716871805))
            add(Edge.make_bspline(
                [(5.492309809, 8.716871805), (5.493121393, 8.704130558), (5.494696036, 8.67940987), (5.502425299, 8.643713627), (5.515686632, 8.611215702), (5.533679104, 8.58264992), (5.554904773, 8.558360054), (5.579553615, 8.54049395), (5.606848713, 8.529011256), (5.626024821, 8.527061206), (5.635724444, 8.526074835)],
                knots=[0, 0, 0, 0, 1.165164728, 2.260663639, 3.319814879, 4.354202631, 5.332356577, 6.247471425, 7.113539359, 8, 8, 8, 8], degree=3))
            Line((5.635724444, 8.526074835), (5.78304104, 8.526074358))
            Line((5.78304104, 8.526074358), (5.78304104, 9.618756332))
        make_face()
        with BuildLine():
            add(Edge.make_bspline(
                [(6.438650796, 8.853748234), (6.437369986, 8.876315935), (6.43489599, 8.919907417), (6.420310671, 8.98225033), (6.398165916, 9.039098475), (6.366950975, 9.088679973), (6.32961579, 9.129955935), (6.287092094, 9.161238575), (6.239214168, 9.180828947), (6.205492452, 9.183987003), (6.18840737, 9.18558703)],
                knots=[0, 0, 0, 0, 1.181532699, 2.282233465, 3.336661472, 4.361780037, 5.331867908, 6.234422029, 7.105471251, 8, 8, 8, 8], degree=3))
            Line((6.18840737, 9.18558703), (6.147919566, 9.185585601))
            Line((6.147919566, 9.185585601), (6.147919566, 8.526074358))
            Line((6.147919566, 8.526074358), (6.188556951, 8.526074358))
            add(Edge.make_bspline(
                [(6.188556951, 8.526074358), (6.205577159, 8.527720052), (6.239159171, 8.530967116), (6.287056432, 8.549864065), (6.329590258, 8.580707723), (6.366968243, 8.621478537), (6.397891455, 8.670380899), (6.420584179, 8.726364845), (6.43490877, 8.788136271), (6.437056701, 8.831523519), (6.438650796, 8.853748234)],
                knots=[0, 0, 0, 0, 0.898603461, 1.773004862, 2.677306445, 3.648329679, 4.673844513, 5.712296624, 6.821212649, 8, 8, 8, 8], degree=3))
        make_face(mode=Mode.SUBTRACT)
    # profile 6 of 9: a face of its own
    with BuildSketch(Plane(origin=(-6.3, -79.273, 0), x_dir=(1, 0, 0), z_dir=(0, 0, 1))):
        with BuildLine():
            add(Edge.make_bspline(
                [(5.297885267, 9.994650387), (5.285663922, 9.995617746), (5.261797149, 9.997506878), (5.228302511, 10.010481951), (5.198197768, 10.030038224), (5.172169974, 10.056448047), (5.150548194, 10.088315929), (5.134907212, 10.125089242), (5.125022169, 10.165995965), (5.123394871, 10.1947328), (5.122553712, 10.20958703)],
                knots=[0, 0, 0, 0, 0.952500454, 1.860115524, 2.76835155, 3.737588794, 4.733789719, 5.757030911, 6.840596767, 8, 8, 8, 8], degree=3))
            add(Edge.make_bspline(
                [(5.122553712, 10.20958703), (5.123373835, 10.224121578), (5.124950783, 10.252068898), (5.135064238, 10.291957662), (5.150693454, 10.328006807), (5.171994215, 10.359818426), (5.19839059, 10.385664978), (5.228179351, 10.405405081), (5.261826355, 10.417659853), (5.285542709, 10.419418856), (5.297675663, 10.420318737)],
                knots=[0, 0, 0, 0, 1.147542827, 2.206518294, 3.230096122, 4.238088033, 5.209758914, 6.128744777, 7.042692104, 8, 8, 8, 8], degree=3))
            Line((5.297675663, 10.420318737), (6.457770937, 10.420162487))
            Line((6.457770937, 10.420162487), (6.457770937, 10.797044633))
            Line((6.457770937, 10.797044633), (6.392135934, 10.801102845))
            add(Edge.make_bspline(
                [(6.392135934, 10.801102845), (6.380224509, 10.802284931), (6.35691377, 10.804598281), (6.32369963, 10.816805465), (6.293978949, 10.836266682), (6.268321676, 10.86243765), (6.246508391, 10.893525303), (6.23181882, 10.929808422), (6.221484504, 10.969519034), (6.219941531, 10.997482901), (6.219139078, 11.012026054)],
                knots=[0, 0, 0, 0, 0.948528589, 1.85627681, 2.781254506, 3.750078175, 4.753964502, 5.779095098, 6.844975137, 8, 8, 8, 8], degree=3))
            add(Edge.make_bspline(
                [(6.219139078, 11.012026054), (6.219966992, 11.026885979), (6.221568665, 11.055633832), (6.231617639, 11.096401347), (6.246642894, 11.133515987), (6.268190689, 11.165357413), (6.293666599, 11.192300862), (6.32398333, 11.210875536), (6.35662959, 11.224142444), (6.379983292, 11.225813228), (6.391822005, 11.226660201)],
                knots=[0, 0, 0, 0, 1.167236176, 2.258122618, 3.283272399, 4.296810141, 5.263602734, 6.171074471, 7.0728612, 8, 8, 8, 8], degree=3))
            Line((6.391822005, 11.226660201), (6.621091726, 11.226614945))
            add(Edge.make_bspline(
                [(6.621091726, 11.226614945), (6.633743546, 11.225821478), (6.658374494, 11.224276733), (6.69278238, 11.21090232), (6.724508364, 11.192369115), (6.751584916, 11.165611208), (6.773837438, 11.133428448), (6.790930208, 11.096767389), (6.800497641, 11.05558566), (6.802174658, 11.026869564), (6.803041517, 11.012026054)],
                knots=[0, 0, 0, 0, 0.96755155, 1.883658949, 2.8020597, 3.773156842, 4.777385176, 5.79395093, 6.859680931, 8, 8, 8, 8], degree=3))
            Line((6.803041517, 11.012026054), (6.803528845, 10.209695166))
            add(Edge.make_bspline(
                [(6.803528845, 10.209695166), (6.802441017, 10.19466115), (6.800328033, 10.165459281), (6.791054795, 10.123533799), (6.773830961, 10.086258221), (6.751607805, 10.053575917), (6.724518772, 10.02639998), (6.69292592, 10.007186392), (6.658321308, 9.994075557), (6.633731671, 9.992077588), (6.621090297, 9.991050444)],
                knots=[0, 0, 0, 0, 1.145322919, 2.224659683, 3.242510005, 4.247064397, 5.21726748, 6.133115094, 7.040246537, 8, 8, 8, 8], degree=3))
            Line((6.621090297, 9.991050444), (5.297885267, 9.994650387))
        make_face()
    # profile 7 of 9: a face of its own
    with BuildSketch(Plane(origin=(-6.3, -79.273, 0), x_dir=(1, 0, 0), z_dir=(0, 0, 1))):
        with BuildLine():
            add(Edge.make_bspline(
                [(6.803528845, 11.85808541), (6.802453204, 11.843371231), (6.800364723, 11.81480196), (6.790865012, 11.773599298), (6.773857617, 11.736592102), (6.751492416, 11.703839606), (6.724392035, 11.676400946), (6.69322578, 11.655877381), (6.658249227, 11.643125012), (6.633714234, 11.640692357), (6.621090297, 11.639440688)],
                knots=[0, 0, 0, 0, 1.124238703, 2.182838799, 3.203883666, 4.211590874, 5.193567112, 6.125580558, 7.035559052, 8, 8, 8, 8], degree=3))
            Line((6.621090297, 11.639440688), (5.29706162, 11.639440212))
            add(Edge.make_bspline(
                [(5.29706162, 11.639440212), (5.285128166, 11.640710656), (5.261746617, 11.643199872), (5.228406826, 11.655923182), (5.198668491, 11.676467083), (5.17316631, 11.704085537), (5.151492162, 11.736505927), (5.136589329, 11.773962061), (5.126430825, 11.814852122), (5.124839626, 11.843603389), (5.124017127, 11.858465079)],
                knots=[0, 0, 0, 0, 0.931310382, 1.824742527, 2.744686518, 3.720752625, 4.735457786, 5.762797711, 6.843577658, 8, 8, 8, 8], degree=3))
            add(Edge.make_bspline(
                [(5.124017127, 11.858465079), (5.124839743, 11.873164628), (5.126430795, 11.901595568), (5.13658273, 11.942008048), (5.15152053, 11.978970068), (5.173044499, 12.010860866), (5.198695663, 12.037688536), (5.228702736, 12.056912232), (5.261527232, 12.070063131), (5.284867932, 12.071754177), (5.296700053, 12.07261142)],
                knots=[0, 0, 0, 0, 1.157147383, 2.238081277, 3.265574424, 4.281428989, 5.25043155, 6.166893773, 7.070741875, 8, 8, 8, 8], degree=3))
            Line((5.296700053, 12.07261142), (6.438650796, 12.072610944))
            Line((6.438650796, 12.072610944), (6.438650796, 12.451146576))
            Line((6.438650796, 12.451146576), (5.29706162, 12.451146576))
            add(Edge.make_bspline(
                [(5.29706162, 12.451146576), (5.285110624, 12.452194615), (5.261672435, 12.45425002), (5.228714021, 12.467318468), (5.19853614, 12.486567335), (5.173051318, 12.513926859), (5.151519575, 12.546268931), (5.136410279, 12.583998844), (5.126464506, 12.625606184), (5.124850849, 12.654990497), (5.124017127, 12.670172396)],
                knots=[0, 0, 0, 0, 0.926626821, 1.817292426, 2.720388176, 3.684305139, 4.695868235, 5.720026971, 6.822013624, 8, 8, 8, 8], degree=3))
            add(Edge.make_bspline(
                [(5.124017127, 12.670172396), (5.124839743, 12.684871946), (5.126430795, 12.713302885), (5.13658273, 12.753715365), (5.15152053, 12.790677385), (5.173044499, 12.822568183), (5.198695663, 12.849395853), (5.228702736, 12.868619549), (5.261527232, 12.881770448), (5.284867932, 12.883461494), (5.296700053, 12.884318737)],
                knots=[0, 0, 0, 0, 1.157147383, 2.238081277, 3.265574424, 4.281428989, 5.25043155, 6.166893773, 7.070741875, 8, 8, 8, 8], degree=3))
            Line((5.296700053, 12.884318737), (6.438650796, 12.884317308))
            Line((6.438650796, 12.884317308), (6.438650796, 13.07561304))
            add(Edge.make_bspline(
                [(6.438650796, 13.07561304), (6.437741001, 13.088327191), (6.435979659, 13.112941466), (6.426984943, 13.147982696), (6.413300785, 13.180091393), (6.393798575, 13.208037222), (6.370615912, 13.23147926), (6.34415911, 13.249459477), (6.314140653, 13.259744567), (6.293193558, 13.261807486), (6.282553712, 13.262855323)],
                knots=[0, 0, 0, 0, 1.133331057, 2.194100189, 3.205786612, 4.226143022, 5.209230685, 6.129053034, 7.049673098, 8, 8, 8, 8], degree=3))
            Line((6.282553712, 13.262855323), (5.29706162, 13.262853417))
            add(Edge.make_bspline(
                [(5.29706162, 13.262853417), (5.285110629, 13.263901656), (5.261672472, 13.26595745), (5.228714016, 13.279025753), (5.198536141, 13.298274662), (5.173051318, 13.325634173), (5.151519575, 13.357976248), (5.136410279, 13.395706161), (5.126464506, 13.437313501), (5.124850849, 13.466697814), (5.124017127, 13.481879713)],
                knots=[0, 0, 0, 0, 0.926628306, 1.817293724, 2.720389285, 3.684306045, 4.695868928, 5.720027449, 6.822013871, 8, 8, 8, 8], degree=3))
            add(Edge.make_bspline(
                [(5.124017127, 13.481879713), (5.124839743, 13.496579263), (5.126430795, 13.525010202), (5.13658273, 13.565422682), (5.15152053, 13.602384702), (5.173044499, 13.6342755), (5.198695663, 13.66110317), (5.228702736, 13.680326867), (5.261527232, 13.693477765), (5.284867932, 13.695168811), (5.296700053, 13.696026054)],
                knots=[0, 0, 0, 0, 1.157147383, 2.238081277, 3.265574424, 4.281428989, 5.25043155, 6.166893773, 7.070741875, 8, 8, 8, 8], degree=3))
            Line((5.296700053, 13.696026054), (6.282628502, 13.696024149))
            add(Edge.make_bspline(
                [(6.282628502, 13.696024149), (6.300376324, 13.694971656), (6.33549334, 13.692889123), (6.386872336, 13.682622836), (6.43652779, 13.66840842), (6.483438677, 13.647507882), (6.528388392, 13.621856748), (6.571181094, 13.59109393), (6.612142147, 13.555251346), (6.649717902, 13.513908824), (6.68403072, 13.468682532), (6.715187771, 13.420911691), (6.740994702, 13.369762779), (6.762461108, 13.316036183), (6.779509788, 13.259719807), (6.792375494, 13.200874277), (6.79997878, 13.139296882), (6.802009512, 13.097345493), (6.803041517, 13.076026054)],
                knots=[0, 0, 0, 0, 0.952233279, 1.884151937, 2.802761483, 3.716350927, 4.63014836, 5.573739761, 6.537457744, 7.543283183, 8.563404039, 9.57915637, 10.596852582, 11.629784227, 12.677838629, 13.748354147, 14.855727349, 16, 16, 16, 16], degree=3))
            Line((6.803041517, 13.076026054), (6.803528845, 11.85808541))
        make_face()
    # profile 8 of 9: a face of its own
    with BuildSketch(Plane(origin=(-6.3, -79.273, 0), x_dir=(1, 0, 0), z_dir=(0, 0, 1))):
        with BuildLine():
            add(Edge.make_bspline(
                [(5.127431761, 15.406739564), (5.128250913, 15.4216385), (5.129824967, 15.450267786), (5.139987455, 15.491339304), (5.155825325, 15.528793285), (5.178604209, 15.561218999), (5.204929139, 15.589206891), (5.236568776, 15.608684818), (5.270919484, 15.622428384), (5.295427639, 15.624391366), (5.307919566, 15.625391908)],
                knots=[0, 0, 0, 0, 1.138391563, 2.187494374, 3.217350047, 4.227515487, 5.203137744, 6.130703494, 7.047210442, 8, 8, 8, 8], degree=3))
            Line((5.307919566, 15.625391908), (6.291713392, 15.625390479))
            add(Edge.make_bspline(
                [(6.291713392, 15.625390479), (6.308867609, 15.624316545), (6.342905699, 15.622185603), (6.392850416, 15.612160832), (6.44096297, 15.597017466), (6.487135949, 15.576399814), (6.53106353, 15.550225758), (6.573526799, 15.519553342), (6.612968684, 15.482274024), (6.650727192, 15.440872892), (6.685194179, 15.39516224), (6.715559581, 15.346417948), (6.740937961, 15.294624835), (6.762478088, 15.240525704), (6.779580523, 15.183566014), (6.792313901, 15.124044719), (6.800013093, 15.061673095), (6.802018642, 15.019232616), (6.803041517, 14.99758703)],
                knots=[0, 0, 0, 0, 0.922317431, 1.830099563, 2.727784821, 3.626955787, 4.539138448, 5.470190716, 6.434285936, 7.448277375, 8.477092017, 9.504682652, 10.527996367, 11.570802117, 12.629000666, 13.718417642, 14.836342377, 16, 16, 16, 16], degree=3))
            Line((6.803041517, 14.99758703), (6.803528845, 14.450195166))
            add(Edge.make_bspline(
                [(6.803528845, 14.450195166), (6.802459879, 14.435541011), (6.800391703, 14.407188982), (6.790867678, 14.366360445), (6.773829881, 14.329853465), (6.751609977, 14.297619969), (6.724359723, 14.270985635), (6.692938069, 14.251786347), (6.658351051, 14.238550361), (6.63373536, 14.236947172), (6.621090297, 14.236123615)],
                knots=[0, 0, 0, 0, 1.129782201, 2.185838543, 3.204775682, 4.211346622, 5.184709083, 6.111776475, 7.030020916, 8, 8, 8, 8], degree=3))
            add(Edge.make_bspline(
                [(6.621090297, 14.236123615), (6.608452947, 14.23697021), (6.583698882, 14.23862852), (6.548870841, 14.251660345), (6.517334393, 14.270997897), (6.490094241, 14.297619155), (6.467813863, 14.329843327), (6.450997992, 14.366438948), (6.440525051, 14.407105623), (6.438967597, 14.435572318), (6.438163468, 14.450269957)],
                knots=[0, 0, 0, 0, 0.968098369, 1.896312966, 2.821582845, 3.793058031, 4.797677307, 5.814638806, 6.871676196, 8, 8, 8, 8], degree=3))
            Line((6.438163468, 14.450269957), (6.438650796, 14.99725881))
            add(Edge.make_bspline(
                [(6.438650796, 14.99725881), (6.437610392, 15.010559949), (6.435597738, 15.036290877), (6.42840625, 15.073447925), (6.414121165, 15.106417751), (6.396526996, 15.135764902), (6.374520661, 15.159924545), (6.349341234, 15.177966869), (6.321140695, 15.189266271), (6.301350591, 15.191228188), (6.2913342, 15.192221176)],
                knots=[0, 0, 0, 0, 1.187953173, 2.29808409, 3.34926507, 4.369694808, 5.332756954, 6.236435166, 7.107404559, 8, 8, 8, 8], degree=3))
            Line((6.2913342, 15.192221176), (6.147919566, 15.192219747))
            Line((6.147919566, 15.192219747), (6.147919566, 14.723505951))
            add(Edge.make_bspline(
                [(6.147919566, 14.723505951), (6.146944933, 14.701994963), (6.145026907, 14.659662472), (6.136607554, 14.597661238), (6.123927297, 14.538288549), (6.106940991, 14.481612699), (6.085303528, 14.427624339), (6.059496868, 14.376287701), (6.029112924, 14.327791118), (5.994602601, 14.282603562), (5.956919087, 14.241594951), (5.917100708, 14.204975885), (5.875367673, 14.173706586), (5.831255149, 14.148076625), (5.785462951, 14.127258469), (5.73713869, 14.11292887), (5.687186271, 14.102672709), (5.653010497, 14.100591116), (5.635724444, 14.099538249)],
                knots=[0, 0, 0, 0, 1.159621346, 2.282073675, 3.36623681, 4.427652734, 5.465490474, 6.495833095, 7.519113245, 8.54407935, 9.554682138, 10.515778448, 11.454864929, 12.357832699, 13.259737528, 14.15754897, 15.068091147, 16, 16, 16, 16], degree=3))
            add(Edge.make_bspline(
                [(5.635724444, 14.099538249), (5.618435072, 14.100576251), (5.584412195, 14.102618882), (5.534660062, 14.113023238), (5.48657786, 14.127130218), (5.441086988, 14.148239244), (5.397093531, 14.173533144), (5.355797397, 14.205170259), (5.315992164, 14.241431833), (5.278775096, 14.282622458), (5.244848096, 14.327953269), (5.214251408, 14.376134808), (5.189238795, 14.427780418), (5.167239086, 14.481499473), (5.151147367, 14.538394925), (5.138045627, 14.597603732), (5.130485218, 14.659849091), (5.12846309, 14.702285158), (5.127431761, 14.723928493)],
                knots=[0, 0, 0, 0, 0.933937943, 1.837849168, 2.737615458, 3.633475768, 4.538409613, 5.472512593, 6.435701544, 7.442589812, 8.464484128, 9.489992315, 10.518652226, 11.5587497, 12.619974019, 13.706497755, 14.83026297, 16, 16, 16, 16], degree=3))
            Line((5.127431761, 14.723928493), (5.127431761, 15.406739564))
        make_face()
        with BuildLine():
            Line((5.492309809, 15.192219747), (5.492309809, 14.723505951))
            add(Edge.make_bspline(
                [(5.492309809, 14.723505951), (5.493121393, 14.710764704), (5.494696036, 14.686044016), (5.502425299, 14.650347773), (5.515686632, 14.617849848), (5.533679104, 14.589284067), (5.554904773, 14.564994201), (5.579553615, 14.547128096), (5.606848713, 14.535645403), (5.626024821, 14.533695352), (5.635724444, 14.532708981)],
                knots=[0, 0, 0, 0, 1.165164728, 2.260663639, 3.319814879, 4.354202631, 5.332356577, 6.247471425, 7.113539359, 8, 8, 8, 8], degree=3))
            add(Edge.make_bspline(
                [(5.635724444, 14.532708981), (5.645741156, 14.533701772), (5.665531893, 14.535663301), (5.693727712, 14.546965599), (5.718926044, 14.564996325), (5.74076174, 14.589100305), (5.758548299, 14.617986923), (5.772584115, 14.650216373), (5.780157132, 14.686200862), (5.781735761, 14.711052086), (5.782553712, 14.723928493)],
                knots=[0, 0, 0, 0, 0.904803131, 1.787684443, 2.703721919, 3.679955502, 4.701880229, 5.753913799, 6.836213376, 8, 8, 8, 8], degree=3))
            Line((5.782553712, 14.723928493), (5.78304104, 15.192219747))
            Line((5.78304104, 15.192219747), (5.492309809, 15.192219747))
        make_face(mode=Mode.SUBTRACT)
    # profile 9 of 9: a face of its own
    with BuildSketch(Plane(origin=(-6.3, -79.273, 0), x_dir=(1, 0, 0), z_dir=(0, 0, 1))):
        with BuildLine():
            add(Edge.make_bspline(
                [(5.29706162, 15.997684114), (5.285137414, 15.998793291), (5.261808238, 16.000963346), (5.228430407, 16.013139619), (5.198867046, 16.033222391), (5.173013077, 16.059867599), (5.151529207, 16.091829033), (5.136580275, 16.128771443), (5.126431473, 16.169189443), (5.124839974, 16.197619595), (5.124017127, 16.212318737)],
                knots=[0, 0, 0, 0, 0.93873466, 1.836592346, 2.758521699, 3.725871878, 4.739994166, 5.76573519, 6.844825832, 8, 8, 8, 8], degree=3))
            add(Edge.make_bspline(
                [(5.124017127, 16.212318737), (5.124828081, 16.227506098), (5.126389214, 16.256742654), (5.1365971, 16.298274467), (5.151412496, 16.3360768), (5.172869687, 16.36861144), (5.198879071, 16.395308032), (5.228427299, 16.41540384), (5.261695663, 16.427529995), (5.284898638, 16.429734218), (5.296700053, 16.430855323)],
                knots=[0, 0, 0, 0, 1.180402834, 2.272344245, 3.310301957, 4.323940119, 5.280768684, 6.192670453, 7.080762377, 8, 8, 8, 8], degree=3))
            Line((5.296700053, 16.430855323), (6.438650796, 16.430854846))
            Line((6.438650796, 16.430854846), (6.438650796, 16.895405151))
            add(Edge.make_bspline(
                [(6.438650796, 16.895405151), (6.437733848, 16.908737198), (6.43595508, 16.934599737), (6.427057206, 16.971406044), (6.413428351, 17.005002031), (6.39395637, 17.033999868), (6.370623203, 17.057979972), (6.344207298, 17.076426582), (6.314232056, 17.087373226), (6.293205902, 17.089360654), (6.282553712, 17.090367518)],
                knots=[0, 0, 0, 0, 1.159685753, 2.249648344, 3.275816407, 4.294856521, 5.264181539, 6.16959342, 7.072686418, 8, 8, 8, 8], degree=3))
            Line((6.282553712, 17.090367518), (5.29706162, 17.090366089))
            add(Edge.make_bspline(
                [(5.29706162, 17.090366089), (5.285137425, 17.091475665), (5.261808313, 17.093646499), (5.228430398, 17.105822481), (5.198867049, 17.125905337), (5.173013076, 17.15255052), (5.151529207, 17.184511961), (5.136580275, 17.22145437), (5.126431473, 17.26187237), (5.124839974, 17.290302521), (5.124017127, 17.305001664)],
                knots=[0, 0, 0, 0, 0.938737662, 1.836594966, 2.758523927, 3.725873695, 4.739995552, 5.76573614, 6.844826323, 8, 8, 8, 8], degree=3))
            add(Edge.make_bspline(
                [(5.124017127, 17.305001664), (5.124815517, 17.319870442), (5.126351582, 17.348477237), (5.13678986, 17.389270267), (5.151338077, 17.426873422), (5.173214057, 17.459320175), (5.198490529, 17.487125893), (5.228685304, 17.506818127), (5.261459449, 17.520501905), (5.284857908, 17.522517925), (5.296700053, 17.523538249)],
                knots=[0, 0, 0, 0, 1.158481191, 2.228860663, 3.269760859, 4.28627256, 5.264076417, 6.178563316, 7.078156451, 8, 8, 8, 8], degree=3))
            Line((5.296700053, 17.523538249), (6.282628502, 17.52353682))
            add(Edge.make_bspline(
                [(6.282628502, 17.52353682), (6.300371501, 17.522469065), (6.335478961, 17.520356335), (6.386974268, 17.51029998), (6.436412179, 17.495249984), (6.483611913, 17.474685226), (6.528199279, 17.448244482), (6.57152998, 17.417717375), (6.611959555, 17.380732041), (6.649738512, 17.338997332), (6.684189086, 17.293187922), (6.715049774, 17.244583033), (6.741021153, 17.192890007), (6.762447938, 17.138658027), (6.779588908, 17.081716254), (6.792311575, 17.022189979), (6.800013709, 16.959819723), (6.80201885, 16.917379054), (6.803041517, 16.895733371)],
                knots=[0, 0, 0, 0, 0.945503137, 1.870834552, 2.785453535, 3.692585294, 4.60424965, 5.541171298, 6.509599164, 7.514710447, 8.534515116, 9.557694688, 10.575918121, 11.60959137, 12.658522613, 13.738398885, 14.846533254, 16, 16, 16, 16], degree=3))
            Line((6.803041517, 16.895733371), (6.803528845, 16.212203932))
            add(Edge.make_bspline(
                [(6.803528845, 16.212203932), (6.802458785, 16.197563602), (6.800387587, 16.169225942), (6.79087007, 16.128405013), (6.773821668, 16.091917346), (6.751639742, 16.059613846), (6.724192212, 16.033167624), (6.693202816, 16.013094395), (6.658187922, 16.000894354), (6.633704838, 15.998776027), (6.621090297, 15.997684591)],
                knots=[0, 0, 0, 0, 1.128341958, 2.184006302, 3.202565221, 4.208762531, 5.181763689, 6.115130827, 7.028849497, 8, 8, 8, 8], degree=3))
            Line((6.621090297, 15.997684591), (5.29706162, 15.997684114))
        make_face()
    extrude(amount=CUT_EXTRUDE_1_DEPTH, mode=Mode.SUBTRACT)

    # 草图5 → 切除-拉伸2 (cut, through all)
    with BuildSketch(Plane.XZ.offset(79.473)):
        with Locations((0, -3.3)):
            Circle(SKETCH_5_R)
    extrude(amount=-CUT_EXTRUDE_2_DEPTH, mode=Mode.SUBTRACT)


solid = part_1.part
